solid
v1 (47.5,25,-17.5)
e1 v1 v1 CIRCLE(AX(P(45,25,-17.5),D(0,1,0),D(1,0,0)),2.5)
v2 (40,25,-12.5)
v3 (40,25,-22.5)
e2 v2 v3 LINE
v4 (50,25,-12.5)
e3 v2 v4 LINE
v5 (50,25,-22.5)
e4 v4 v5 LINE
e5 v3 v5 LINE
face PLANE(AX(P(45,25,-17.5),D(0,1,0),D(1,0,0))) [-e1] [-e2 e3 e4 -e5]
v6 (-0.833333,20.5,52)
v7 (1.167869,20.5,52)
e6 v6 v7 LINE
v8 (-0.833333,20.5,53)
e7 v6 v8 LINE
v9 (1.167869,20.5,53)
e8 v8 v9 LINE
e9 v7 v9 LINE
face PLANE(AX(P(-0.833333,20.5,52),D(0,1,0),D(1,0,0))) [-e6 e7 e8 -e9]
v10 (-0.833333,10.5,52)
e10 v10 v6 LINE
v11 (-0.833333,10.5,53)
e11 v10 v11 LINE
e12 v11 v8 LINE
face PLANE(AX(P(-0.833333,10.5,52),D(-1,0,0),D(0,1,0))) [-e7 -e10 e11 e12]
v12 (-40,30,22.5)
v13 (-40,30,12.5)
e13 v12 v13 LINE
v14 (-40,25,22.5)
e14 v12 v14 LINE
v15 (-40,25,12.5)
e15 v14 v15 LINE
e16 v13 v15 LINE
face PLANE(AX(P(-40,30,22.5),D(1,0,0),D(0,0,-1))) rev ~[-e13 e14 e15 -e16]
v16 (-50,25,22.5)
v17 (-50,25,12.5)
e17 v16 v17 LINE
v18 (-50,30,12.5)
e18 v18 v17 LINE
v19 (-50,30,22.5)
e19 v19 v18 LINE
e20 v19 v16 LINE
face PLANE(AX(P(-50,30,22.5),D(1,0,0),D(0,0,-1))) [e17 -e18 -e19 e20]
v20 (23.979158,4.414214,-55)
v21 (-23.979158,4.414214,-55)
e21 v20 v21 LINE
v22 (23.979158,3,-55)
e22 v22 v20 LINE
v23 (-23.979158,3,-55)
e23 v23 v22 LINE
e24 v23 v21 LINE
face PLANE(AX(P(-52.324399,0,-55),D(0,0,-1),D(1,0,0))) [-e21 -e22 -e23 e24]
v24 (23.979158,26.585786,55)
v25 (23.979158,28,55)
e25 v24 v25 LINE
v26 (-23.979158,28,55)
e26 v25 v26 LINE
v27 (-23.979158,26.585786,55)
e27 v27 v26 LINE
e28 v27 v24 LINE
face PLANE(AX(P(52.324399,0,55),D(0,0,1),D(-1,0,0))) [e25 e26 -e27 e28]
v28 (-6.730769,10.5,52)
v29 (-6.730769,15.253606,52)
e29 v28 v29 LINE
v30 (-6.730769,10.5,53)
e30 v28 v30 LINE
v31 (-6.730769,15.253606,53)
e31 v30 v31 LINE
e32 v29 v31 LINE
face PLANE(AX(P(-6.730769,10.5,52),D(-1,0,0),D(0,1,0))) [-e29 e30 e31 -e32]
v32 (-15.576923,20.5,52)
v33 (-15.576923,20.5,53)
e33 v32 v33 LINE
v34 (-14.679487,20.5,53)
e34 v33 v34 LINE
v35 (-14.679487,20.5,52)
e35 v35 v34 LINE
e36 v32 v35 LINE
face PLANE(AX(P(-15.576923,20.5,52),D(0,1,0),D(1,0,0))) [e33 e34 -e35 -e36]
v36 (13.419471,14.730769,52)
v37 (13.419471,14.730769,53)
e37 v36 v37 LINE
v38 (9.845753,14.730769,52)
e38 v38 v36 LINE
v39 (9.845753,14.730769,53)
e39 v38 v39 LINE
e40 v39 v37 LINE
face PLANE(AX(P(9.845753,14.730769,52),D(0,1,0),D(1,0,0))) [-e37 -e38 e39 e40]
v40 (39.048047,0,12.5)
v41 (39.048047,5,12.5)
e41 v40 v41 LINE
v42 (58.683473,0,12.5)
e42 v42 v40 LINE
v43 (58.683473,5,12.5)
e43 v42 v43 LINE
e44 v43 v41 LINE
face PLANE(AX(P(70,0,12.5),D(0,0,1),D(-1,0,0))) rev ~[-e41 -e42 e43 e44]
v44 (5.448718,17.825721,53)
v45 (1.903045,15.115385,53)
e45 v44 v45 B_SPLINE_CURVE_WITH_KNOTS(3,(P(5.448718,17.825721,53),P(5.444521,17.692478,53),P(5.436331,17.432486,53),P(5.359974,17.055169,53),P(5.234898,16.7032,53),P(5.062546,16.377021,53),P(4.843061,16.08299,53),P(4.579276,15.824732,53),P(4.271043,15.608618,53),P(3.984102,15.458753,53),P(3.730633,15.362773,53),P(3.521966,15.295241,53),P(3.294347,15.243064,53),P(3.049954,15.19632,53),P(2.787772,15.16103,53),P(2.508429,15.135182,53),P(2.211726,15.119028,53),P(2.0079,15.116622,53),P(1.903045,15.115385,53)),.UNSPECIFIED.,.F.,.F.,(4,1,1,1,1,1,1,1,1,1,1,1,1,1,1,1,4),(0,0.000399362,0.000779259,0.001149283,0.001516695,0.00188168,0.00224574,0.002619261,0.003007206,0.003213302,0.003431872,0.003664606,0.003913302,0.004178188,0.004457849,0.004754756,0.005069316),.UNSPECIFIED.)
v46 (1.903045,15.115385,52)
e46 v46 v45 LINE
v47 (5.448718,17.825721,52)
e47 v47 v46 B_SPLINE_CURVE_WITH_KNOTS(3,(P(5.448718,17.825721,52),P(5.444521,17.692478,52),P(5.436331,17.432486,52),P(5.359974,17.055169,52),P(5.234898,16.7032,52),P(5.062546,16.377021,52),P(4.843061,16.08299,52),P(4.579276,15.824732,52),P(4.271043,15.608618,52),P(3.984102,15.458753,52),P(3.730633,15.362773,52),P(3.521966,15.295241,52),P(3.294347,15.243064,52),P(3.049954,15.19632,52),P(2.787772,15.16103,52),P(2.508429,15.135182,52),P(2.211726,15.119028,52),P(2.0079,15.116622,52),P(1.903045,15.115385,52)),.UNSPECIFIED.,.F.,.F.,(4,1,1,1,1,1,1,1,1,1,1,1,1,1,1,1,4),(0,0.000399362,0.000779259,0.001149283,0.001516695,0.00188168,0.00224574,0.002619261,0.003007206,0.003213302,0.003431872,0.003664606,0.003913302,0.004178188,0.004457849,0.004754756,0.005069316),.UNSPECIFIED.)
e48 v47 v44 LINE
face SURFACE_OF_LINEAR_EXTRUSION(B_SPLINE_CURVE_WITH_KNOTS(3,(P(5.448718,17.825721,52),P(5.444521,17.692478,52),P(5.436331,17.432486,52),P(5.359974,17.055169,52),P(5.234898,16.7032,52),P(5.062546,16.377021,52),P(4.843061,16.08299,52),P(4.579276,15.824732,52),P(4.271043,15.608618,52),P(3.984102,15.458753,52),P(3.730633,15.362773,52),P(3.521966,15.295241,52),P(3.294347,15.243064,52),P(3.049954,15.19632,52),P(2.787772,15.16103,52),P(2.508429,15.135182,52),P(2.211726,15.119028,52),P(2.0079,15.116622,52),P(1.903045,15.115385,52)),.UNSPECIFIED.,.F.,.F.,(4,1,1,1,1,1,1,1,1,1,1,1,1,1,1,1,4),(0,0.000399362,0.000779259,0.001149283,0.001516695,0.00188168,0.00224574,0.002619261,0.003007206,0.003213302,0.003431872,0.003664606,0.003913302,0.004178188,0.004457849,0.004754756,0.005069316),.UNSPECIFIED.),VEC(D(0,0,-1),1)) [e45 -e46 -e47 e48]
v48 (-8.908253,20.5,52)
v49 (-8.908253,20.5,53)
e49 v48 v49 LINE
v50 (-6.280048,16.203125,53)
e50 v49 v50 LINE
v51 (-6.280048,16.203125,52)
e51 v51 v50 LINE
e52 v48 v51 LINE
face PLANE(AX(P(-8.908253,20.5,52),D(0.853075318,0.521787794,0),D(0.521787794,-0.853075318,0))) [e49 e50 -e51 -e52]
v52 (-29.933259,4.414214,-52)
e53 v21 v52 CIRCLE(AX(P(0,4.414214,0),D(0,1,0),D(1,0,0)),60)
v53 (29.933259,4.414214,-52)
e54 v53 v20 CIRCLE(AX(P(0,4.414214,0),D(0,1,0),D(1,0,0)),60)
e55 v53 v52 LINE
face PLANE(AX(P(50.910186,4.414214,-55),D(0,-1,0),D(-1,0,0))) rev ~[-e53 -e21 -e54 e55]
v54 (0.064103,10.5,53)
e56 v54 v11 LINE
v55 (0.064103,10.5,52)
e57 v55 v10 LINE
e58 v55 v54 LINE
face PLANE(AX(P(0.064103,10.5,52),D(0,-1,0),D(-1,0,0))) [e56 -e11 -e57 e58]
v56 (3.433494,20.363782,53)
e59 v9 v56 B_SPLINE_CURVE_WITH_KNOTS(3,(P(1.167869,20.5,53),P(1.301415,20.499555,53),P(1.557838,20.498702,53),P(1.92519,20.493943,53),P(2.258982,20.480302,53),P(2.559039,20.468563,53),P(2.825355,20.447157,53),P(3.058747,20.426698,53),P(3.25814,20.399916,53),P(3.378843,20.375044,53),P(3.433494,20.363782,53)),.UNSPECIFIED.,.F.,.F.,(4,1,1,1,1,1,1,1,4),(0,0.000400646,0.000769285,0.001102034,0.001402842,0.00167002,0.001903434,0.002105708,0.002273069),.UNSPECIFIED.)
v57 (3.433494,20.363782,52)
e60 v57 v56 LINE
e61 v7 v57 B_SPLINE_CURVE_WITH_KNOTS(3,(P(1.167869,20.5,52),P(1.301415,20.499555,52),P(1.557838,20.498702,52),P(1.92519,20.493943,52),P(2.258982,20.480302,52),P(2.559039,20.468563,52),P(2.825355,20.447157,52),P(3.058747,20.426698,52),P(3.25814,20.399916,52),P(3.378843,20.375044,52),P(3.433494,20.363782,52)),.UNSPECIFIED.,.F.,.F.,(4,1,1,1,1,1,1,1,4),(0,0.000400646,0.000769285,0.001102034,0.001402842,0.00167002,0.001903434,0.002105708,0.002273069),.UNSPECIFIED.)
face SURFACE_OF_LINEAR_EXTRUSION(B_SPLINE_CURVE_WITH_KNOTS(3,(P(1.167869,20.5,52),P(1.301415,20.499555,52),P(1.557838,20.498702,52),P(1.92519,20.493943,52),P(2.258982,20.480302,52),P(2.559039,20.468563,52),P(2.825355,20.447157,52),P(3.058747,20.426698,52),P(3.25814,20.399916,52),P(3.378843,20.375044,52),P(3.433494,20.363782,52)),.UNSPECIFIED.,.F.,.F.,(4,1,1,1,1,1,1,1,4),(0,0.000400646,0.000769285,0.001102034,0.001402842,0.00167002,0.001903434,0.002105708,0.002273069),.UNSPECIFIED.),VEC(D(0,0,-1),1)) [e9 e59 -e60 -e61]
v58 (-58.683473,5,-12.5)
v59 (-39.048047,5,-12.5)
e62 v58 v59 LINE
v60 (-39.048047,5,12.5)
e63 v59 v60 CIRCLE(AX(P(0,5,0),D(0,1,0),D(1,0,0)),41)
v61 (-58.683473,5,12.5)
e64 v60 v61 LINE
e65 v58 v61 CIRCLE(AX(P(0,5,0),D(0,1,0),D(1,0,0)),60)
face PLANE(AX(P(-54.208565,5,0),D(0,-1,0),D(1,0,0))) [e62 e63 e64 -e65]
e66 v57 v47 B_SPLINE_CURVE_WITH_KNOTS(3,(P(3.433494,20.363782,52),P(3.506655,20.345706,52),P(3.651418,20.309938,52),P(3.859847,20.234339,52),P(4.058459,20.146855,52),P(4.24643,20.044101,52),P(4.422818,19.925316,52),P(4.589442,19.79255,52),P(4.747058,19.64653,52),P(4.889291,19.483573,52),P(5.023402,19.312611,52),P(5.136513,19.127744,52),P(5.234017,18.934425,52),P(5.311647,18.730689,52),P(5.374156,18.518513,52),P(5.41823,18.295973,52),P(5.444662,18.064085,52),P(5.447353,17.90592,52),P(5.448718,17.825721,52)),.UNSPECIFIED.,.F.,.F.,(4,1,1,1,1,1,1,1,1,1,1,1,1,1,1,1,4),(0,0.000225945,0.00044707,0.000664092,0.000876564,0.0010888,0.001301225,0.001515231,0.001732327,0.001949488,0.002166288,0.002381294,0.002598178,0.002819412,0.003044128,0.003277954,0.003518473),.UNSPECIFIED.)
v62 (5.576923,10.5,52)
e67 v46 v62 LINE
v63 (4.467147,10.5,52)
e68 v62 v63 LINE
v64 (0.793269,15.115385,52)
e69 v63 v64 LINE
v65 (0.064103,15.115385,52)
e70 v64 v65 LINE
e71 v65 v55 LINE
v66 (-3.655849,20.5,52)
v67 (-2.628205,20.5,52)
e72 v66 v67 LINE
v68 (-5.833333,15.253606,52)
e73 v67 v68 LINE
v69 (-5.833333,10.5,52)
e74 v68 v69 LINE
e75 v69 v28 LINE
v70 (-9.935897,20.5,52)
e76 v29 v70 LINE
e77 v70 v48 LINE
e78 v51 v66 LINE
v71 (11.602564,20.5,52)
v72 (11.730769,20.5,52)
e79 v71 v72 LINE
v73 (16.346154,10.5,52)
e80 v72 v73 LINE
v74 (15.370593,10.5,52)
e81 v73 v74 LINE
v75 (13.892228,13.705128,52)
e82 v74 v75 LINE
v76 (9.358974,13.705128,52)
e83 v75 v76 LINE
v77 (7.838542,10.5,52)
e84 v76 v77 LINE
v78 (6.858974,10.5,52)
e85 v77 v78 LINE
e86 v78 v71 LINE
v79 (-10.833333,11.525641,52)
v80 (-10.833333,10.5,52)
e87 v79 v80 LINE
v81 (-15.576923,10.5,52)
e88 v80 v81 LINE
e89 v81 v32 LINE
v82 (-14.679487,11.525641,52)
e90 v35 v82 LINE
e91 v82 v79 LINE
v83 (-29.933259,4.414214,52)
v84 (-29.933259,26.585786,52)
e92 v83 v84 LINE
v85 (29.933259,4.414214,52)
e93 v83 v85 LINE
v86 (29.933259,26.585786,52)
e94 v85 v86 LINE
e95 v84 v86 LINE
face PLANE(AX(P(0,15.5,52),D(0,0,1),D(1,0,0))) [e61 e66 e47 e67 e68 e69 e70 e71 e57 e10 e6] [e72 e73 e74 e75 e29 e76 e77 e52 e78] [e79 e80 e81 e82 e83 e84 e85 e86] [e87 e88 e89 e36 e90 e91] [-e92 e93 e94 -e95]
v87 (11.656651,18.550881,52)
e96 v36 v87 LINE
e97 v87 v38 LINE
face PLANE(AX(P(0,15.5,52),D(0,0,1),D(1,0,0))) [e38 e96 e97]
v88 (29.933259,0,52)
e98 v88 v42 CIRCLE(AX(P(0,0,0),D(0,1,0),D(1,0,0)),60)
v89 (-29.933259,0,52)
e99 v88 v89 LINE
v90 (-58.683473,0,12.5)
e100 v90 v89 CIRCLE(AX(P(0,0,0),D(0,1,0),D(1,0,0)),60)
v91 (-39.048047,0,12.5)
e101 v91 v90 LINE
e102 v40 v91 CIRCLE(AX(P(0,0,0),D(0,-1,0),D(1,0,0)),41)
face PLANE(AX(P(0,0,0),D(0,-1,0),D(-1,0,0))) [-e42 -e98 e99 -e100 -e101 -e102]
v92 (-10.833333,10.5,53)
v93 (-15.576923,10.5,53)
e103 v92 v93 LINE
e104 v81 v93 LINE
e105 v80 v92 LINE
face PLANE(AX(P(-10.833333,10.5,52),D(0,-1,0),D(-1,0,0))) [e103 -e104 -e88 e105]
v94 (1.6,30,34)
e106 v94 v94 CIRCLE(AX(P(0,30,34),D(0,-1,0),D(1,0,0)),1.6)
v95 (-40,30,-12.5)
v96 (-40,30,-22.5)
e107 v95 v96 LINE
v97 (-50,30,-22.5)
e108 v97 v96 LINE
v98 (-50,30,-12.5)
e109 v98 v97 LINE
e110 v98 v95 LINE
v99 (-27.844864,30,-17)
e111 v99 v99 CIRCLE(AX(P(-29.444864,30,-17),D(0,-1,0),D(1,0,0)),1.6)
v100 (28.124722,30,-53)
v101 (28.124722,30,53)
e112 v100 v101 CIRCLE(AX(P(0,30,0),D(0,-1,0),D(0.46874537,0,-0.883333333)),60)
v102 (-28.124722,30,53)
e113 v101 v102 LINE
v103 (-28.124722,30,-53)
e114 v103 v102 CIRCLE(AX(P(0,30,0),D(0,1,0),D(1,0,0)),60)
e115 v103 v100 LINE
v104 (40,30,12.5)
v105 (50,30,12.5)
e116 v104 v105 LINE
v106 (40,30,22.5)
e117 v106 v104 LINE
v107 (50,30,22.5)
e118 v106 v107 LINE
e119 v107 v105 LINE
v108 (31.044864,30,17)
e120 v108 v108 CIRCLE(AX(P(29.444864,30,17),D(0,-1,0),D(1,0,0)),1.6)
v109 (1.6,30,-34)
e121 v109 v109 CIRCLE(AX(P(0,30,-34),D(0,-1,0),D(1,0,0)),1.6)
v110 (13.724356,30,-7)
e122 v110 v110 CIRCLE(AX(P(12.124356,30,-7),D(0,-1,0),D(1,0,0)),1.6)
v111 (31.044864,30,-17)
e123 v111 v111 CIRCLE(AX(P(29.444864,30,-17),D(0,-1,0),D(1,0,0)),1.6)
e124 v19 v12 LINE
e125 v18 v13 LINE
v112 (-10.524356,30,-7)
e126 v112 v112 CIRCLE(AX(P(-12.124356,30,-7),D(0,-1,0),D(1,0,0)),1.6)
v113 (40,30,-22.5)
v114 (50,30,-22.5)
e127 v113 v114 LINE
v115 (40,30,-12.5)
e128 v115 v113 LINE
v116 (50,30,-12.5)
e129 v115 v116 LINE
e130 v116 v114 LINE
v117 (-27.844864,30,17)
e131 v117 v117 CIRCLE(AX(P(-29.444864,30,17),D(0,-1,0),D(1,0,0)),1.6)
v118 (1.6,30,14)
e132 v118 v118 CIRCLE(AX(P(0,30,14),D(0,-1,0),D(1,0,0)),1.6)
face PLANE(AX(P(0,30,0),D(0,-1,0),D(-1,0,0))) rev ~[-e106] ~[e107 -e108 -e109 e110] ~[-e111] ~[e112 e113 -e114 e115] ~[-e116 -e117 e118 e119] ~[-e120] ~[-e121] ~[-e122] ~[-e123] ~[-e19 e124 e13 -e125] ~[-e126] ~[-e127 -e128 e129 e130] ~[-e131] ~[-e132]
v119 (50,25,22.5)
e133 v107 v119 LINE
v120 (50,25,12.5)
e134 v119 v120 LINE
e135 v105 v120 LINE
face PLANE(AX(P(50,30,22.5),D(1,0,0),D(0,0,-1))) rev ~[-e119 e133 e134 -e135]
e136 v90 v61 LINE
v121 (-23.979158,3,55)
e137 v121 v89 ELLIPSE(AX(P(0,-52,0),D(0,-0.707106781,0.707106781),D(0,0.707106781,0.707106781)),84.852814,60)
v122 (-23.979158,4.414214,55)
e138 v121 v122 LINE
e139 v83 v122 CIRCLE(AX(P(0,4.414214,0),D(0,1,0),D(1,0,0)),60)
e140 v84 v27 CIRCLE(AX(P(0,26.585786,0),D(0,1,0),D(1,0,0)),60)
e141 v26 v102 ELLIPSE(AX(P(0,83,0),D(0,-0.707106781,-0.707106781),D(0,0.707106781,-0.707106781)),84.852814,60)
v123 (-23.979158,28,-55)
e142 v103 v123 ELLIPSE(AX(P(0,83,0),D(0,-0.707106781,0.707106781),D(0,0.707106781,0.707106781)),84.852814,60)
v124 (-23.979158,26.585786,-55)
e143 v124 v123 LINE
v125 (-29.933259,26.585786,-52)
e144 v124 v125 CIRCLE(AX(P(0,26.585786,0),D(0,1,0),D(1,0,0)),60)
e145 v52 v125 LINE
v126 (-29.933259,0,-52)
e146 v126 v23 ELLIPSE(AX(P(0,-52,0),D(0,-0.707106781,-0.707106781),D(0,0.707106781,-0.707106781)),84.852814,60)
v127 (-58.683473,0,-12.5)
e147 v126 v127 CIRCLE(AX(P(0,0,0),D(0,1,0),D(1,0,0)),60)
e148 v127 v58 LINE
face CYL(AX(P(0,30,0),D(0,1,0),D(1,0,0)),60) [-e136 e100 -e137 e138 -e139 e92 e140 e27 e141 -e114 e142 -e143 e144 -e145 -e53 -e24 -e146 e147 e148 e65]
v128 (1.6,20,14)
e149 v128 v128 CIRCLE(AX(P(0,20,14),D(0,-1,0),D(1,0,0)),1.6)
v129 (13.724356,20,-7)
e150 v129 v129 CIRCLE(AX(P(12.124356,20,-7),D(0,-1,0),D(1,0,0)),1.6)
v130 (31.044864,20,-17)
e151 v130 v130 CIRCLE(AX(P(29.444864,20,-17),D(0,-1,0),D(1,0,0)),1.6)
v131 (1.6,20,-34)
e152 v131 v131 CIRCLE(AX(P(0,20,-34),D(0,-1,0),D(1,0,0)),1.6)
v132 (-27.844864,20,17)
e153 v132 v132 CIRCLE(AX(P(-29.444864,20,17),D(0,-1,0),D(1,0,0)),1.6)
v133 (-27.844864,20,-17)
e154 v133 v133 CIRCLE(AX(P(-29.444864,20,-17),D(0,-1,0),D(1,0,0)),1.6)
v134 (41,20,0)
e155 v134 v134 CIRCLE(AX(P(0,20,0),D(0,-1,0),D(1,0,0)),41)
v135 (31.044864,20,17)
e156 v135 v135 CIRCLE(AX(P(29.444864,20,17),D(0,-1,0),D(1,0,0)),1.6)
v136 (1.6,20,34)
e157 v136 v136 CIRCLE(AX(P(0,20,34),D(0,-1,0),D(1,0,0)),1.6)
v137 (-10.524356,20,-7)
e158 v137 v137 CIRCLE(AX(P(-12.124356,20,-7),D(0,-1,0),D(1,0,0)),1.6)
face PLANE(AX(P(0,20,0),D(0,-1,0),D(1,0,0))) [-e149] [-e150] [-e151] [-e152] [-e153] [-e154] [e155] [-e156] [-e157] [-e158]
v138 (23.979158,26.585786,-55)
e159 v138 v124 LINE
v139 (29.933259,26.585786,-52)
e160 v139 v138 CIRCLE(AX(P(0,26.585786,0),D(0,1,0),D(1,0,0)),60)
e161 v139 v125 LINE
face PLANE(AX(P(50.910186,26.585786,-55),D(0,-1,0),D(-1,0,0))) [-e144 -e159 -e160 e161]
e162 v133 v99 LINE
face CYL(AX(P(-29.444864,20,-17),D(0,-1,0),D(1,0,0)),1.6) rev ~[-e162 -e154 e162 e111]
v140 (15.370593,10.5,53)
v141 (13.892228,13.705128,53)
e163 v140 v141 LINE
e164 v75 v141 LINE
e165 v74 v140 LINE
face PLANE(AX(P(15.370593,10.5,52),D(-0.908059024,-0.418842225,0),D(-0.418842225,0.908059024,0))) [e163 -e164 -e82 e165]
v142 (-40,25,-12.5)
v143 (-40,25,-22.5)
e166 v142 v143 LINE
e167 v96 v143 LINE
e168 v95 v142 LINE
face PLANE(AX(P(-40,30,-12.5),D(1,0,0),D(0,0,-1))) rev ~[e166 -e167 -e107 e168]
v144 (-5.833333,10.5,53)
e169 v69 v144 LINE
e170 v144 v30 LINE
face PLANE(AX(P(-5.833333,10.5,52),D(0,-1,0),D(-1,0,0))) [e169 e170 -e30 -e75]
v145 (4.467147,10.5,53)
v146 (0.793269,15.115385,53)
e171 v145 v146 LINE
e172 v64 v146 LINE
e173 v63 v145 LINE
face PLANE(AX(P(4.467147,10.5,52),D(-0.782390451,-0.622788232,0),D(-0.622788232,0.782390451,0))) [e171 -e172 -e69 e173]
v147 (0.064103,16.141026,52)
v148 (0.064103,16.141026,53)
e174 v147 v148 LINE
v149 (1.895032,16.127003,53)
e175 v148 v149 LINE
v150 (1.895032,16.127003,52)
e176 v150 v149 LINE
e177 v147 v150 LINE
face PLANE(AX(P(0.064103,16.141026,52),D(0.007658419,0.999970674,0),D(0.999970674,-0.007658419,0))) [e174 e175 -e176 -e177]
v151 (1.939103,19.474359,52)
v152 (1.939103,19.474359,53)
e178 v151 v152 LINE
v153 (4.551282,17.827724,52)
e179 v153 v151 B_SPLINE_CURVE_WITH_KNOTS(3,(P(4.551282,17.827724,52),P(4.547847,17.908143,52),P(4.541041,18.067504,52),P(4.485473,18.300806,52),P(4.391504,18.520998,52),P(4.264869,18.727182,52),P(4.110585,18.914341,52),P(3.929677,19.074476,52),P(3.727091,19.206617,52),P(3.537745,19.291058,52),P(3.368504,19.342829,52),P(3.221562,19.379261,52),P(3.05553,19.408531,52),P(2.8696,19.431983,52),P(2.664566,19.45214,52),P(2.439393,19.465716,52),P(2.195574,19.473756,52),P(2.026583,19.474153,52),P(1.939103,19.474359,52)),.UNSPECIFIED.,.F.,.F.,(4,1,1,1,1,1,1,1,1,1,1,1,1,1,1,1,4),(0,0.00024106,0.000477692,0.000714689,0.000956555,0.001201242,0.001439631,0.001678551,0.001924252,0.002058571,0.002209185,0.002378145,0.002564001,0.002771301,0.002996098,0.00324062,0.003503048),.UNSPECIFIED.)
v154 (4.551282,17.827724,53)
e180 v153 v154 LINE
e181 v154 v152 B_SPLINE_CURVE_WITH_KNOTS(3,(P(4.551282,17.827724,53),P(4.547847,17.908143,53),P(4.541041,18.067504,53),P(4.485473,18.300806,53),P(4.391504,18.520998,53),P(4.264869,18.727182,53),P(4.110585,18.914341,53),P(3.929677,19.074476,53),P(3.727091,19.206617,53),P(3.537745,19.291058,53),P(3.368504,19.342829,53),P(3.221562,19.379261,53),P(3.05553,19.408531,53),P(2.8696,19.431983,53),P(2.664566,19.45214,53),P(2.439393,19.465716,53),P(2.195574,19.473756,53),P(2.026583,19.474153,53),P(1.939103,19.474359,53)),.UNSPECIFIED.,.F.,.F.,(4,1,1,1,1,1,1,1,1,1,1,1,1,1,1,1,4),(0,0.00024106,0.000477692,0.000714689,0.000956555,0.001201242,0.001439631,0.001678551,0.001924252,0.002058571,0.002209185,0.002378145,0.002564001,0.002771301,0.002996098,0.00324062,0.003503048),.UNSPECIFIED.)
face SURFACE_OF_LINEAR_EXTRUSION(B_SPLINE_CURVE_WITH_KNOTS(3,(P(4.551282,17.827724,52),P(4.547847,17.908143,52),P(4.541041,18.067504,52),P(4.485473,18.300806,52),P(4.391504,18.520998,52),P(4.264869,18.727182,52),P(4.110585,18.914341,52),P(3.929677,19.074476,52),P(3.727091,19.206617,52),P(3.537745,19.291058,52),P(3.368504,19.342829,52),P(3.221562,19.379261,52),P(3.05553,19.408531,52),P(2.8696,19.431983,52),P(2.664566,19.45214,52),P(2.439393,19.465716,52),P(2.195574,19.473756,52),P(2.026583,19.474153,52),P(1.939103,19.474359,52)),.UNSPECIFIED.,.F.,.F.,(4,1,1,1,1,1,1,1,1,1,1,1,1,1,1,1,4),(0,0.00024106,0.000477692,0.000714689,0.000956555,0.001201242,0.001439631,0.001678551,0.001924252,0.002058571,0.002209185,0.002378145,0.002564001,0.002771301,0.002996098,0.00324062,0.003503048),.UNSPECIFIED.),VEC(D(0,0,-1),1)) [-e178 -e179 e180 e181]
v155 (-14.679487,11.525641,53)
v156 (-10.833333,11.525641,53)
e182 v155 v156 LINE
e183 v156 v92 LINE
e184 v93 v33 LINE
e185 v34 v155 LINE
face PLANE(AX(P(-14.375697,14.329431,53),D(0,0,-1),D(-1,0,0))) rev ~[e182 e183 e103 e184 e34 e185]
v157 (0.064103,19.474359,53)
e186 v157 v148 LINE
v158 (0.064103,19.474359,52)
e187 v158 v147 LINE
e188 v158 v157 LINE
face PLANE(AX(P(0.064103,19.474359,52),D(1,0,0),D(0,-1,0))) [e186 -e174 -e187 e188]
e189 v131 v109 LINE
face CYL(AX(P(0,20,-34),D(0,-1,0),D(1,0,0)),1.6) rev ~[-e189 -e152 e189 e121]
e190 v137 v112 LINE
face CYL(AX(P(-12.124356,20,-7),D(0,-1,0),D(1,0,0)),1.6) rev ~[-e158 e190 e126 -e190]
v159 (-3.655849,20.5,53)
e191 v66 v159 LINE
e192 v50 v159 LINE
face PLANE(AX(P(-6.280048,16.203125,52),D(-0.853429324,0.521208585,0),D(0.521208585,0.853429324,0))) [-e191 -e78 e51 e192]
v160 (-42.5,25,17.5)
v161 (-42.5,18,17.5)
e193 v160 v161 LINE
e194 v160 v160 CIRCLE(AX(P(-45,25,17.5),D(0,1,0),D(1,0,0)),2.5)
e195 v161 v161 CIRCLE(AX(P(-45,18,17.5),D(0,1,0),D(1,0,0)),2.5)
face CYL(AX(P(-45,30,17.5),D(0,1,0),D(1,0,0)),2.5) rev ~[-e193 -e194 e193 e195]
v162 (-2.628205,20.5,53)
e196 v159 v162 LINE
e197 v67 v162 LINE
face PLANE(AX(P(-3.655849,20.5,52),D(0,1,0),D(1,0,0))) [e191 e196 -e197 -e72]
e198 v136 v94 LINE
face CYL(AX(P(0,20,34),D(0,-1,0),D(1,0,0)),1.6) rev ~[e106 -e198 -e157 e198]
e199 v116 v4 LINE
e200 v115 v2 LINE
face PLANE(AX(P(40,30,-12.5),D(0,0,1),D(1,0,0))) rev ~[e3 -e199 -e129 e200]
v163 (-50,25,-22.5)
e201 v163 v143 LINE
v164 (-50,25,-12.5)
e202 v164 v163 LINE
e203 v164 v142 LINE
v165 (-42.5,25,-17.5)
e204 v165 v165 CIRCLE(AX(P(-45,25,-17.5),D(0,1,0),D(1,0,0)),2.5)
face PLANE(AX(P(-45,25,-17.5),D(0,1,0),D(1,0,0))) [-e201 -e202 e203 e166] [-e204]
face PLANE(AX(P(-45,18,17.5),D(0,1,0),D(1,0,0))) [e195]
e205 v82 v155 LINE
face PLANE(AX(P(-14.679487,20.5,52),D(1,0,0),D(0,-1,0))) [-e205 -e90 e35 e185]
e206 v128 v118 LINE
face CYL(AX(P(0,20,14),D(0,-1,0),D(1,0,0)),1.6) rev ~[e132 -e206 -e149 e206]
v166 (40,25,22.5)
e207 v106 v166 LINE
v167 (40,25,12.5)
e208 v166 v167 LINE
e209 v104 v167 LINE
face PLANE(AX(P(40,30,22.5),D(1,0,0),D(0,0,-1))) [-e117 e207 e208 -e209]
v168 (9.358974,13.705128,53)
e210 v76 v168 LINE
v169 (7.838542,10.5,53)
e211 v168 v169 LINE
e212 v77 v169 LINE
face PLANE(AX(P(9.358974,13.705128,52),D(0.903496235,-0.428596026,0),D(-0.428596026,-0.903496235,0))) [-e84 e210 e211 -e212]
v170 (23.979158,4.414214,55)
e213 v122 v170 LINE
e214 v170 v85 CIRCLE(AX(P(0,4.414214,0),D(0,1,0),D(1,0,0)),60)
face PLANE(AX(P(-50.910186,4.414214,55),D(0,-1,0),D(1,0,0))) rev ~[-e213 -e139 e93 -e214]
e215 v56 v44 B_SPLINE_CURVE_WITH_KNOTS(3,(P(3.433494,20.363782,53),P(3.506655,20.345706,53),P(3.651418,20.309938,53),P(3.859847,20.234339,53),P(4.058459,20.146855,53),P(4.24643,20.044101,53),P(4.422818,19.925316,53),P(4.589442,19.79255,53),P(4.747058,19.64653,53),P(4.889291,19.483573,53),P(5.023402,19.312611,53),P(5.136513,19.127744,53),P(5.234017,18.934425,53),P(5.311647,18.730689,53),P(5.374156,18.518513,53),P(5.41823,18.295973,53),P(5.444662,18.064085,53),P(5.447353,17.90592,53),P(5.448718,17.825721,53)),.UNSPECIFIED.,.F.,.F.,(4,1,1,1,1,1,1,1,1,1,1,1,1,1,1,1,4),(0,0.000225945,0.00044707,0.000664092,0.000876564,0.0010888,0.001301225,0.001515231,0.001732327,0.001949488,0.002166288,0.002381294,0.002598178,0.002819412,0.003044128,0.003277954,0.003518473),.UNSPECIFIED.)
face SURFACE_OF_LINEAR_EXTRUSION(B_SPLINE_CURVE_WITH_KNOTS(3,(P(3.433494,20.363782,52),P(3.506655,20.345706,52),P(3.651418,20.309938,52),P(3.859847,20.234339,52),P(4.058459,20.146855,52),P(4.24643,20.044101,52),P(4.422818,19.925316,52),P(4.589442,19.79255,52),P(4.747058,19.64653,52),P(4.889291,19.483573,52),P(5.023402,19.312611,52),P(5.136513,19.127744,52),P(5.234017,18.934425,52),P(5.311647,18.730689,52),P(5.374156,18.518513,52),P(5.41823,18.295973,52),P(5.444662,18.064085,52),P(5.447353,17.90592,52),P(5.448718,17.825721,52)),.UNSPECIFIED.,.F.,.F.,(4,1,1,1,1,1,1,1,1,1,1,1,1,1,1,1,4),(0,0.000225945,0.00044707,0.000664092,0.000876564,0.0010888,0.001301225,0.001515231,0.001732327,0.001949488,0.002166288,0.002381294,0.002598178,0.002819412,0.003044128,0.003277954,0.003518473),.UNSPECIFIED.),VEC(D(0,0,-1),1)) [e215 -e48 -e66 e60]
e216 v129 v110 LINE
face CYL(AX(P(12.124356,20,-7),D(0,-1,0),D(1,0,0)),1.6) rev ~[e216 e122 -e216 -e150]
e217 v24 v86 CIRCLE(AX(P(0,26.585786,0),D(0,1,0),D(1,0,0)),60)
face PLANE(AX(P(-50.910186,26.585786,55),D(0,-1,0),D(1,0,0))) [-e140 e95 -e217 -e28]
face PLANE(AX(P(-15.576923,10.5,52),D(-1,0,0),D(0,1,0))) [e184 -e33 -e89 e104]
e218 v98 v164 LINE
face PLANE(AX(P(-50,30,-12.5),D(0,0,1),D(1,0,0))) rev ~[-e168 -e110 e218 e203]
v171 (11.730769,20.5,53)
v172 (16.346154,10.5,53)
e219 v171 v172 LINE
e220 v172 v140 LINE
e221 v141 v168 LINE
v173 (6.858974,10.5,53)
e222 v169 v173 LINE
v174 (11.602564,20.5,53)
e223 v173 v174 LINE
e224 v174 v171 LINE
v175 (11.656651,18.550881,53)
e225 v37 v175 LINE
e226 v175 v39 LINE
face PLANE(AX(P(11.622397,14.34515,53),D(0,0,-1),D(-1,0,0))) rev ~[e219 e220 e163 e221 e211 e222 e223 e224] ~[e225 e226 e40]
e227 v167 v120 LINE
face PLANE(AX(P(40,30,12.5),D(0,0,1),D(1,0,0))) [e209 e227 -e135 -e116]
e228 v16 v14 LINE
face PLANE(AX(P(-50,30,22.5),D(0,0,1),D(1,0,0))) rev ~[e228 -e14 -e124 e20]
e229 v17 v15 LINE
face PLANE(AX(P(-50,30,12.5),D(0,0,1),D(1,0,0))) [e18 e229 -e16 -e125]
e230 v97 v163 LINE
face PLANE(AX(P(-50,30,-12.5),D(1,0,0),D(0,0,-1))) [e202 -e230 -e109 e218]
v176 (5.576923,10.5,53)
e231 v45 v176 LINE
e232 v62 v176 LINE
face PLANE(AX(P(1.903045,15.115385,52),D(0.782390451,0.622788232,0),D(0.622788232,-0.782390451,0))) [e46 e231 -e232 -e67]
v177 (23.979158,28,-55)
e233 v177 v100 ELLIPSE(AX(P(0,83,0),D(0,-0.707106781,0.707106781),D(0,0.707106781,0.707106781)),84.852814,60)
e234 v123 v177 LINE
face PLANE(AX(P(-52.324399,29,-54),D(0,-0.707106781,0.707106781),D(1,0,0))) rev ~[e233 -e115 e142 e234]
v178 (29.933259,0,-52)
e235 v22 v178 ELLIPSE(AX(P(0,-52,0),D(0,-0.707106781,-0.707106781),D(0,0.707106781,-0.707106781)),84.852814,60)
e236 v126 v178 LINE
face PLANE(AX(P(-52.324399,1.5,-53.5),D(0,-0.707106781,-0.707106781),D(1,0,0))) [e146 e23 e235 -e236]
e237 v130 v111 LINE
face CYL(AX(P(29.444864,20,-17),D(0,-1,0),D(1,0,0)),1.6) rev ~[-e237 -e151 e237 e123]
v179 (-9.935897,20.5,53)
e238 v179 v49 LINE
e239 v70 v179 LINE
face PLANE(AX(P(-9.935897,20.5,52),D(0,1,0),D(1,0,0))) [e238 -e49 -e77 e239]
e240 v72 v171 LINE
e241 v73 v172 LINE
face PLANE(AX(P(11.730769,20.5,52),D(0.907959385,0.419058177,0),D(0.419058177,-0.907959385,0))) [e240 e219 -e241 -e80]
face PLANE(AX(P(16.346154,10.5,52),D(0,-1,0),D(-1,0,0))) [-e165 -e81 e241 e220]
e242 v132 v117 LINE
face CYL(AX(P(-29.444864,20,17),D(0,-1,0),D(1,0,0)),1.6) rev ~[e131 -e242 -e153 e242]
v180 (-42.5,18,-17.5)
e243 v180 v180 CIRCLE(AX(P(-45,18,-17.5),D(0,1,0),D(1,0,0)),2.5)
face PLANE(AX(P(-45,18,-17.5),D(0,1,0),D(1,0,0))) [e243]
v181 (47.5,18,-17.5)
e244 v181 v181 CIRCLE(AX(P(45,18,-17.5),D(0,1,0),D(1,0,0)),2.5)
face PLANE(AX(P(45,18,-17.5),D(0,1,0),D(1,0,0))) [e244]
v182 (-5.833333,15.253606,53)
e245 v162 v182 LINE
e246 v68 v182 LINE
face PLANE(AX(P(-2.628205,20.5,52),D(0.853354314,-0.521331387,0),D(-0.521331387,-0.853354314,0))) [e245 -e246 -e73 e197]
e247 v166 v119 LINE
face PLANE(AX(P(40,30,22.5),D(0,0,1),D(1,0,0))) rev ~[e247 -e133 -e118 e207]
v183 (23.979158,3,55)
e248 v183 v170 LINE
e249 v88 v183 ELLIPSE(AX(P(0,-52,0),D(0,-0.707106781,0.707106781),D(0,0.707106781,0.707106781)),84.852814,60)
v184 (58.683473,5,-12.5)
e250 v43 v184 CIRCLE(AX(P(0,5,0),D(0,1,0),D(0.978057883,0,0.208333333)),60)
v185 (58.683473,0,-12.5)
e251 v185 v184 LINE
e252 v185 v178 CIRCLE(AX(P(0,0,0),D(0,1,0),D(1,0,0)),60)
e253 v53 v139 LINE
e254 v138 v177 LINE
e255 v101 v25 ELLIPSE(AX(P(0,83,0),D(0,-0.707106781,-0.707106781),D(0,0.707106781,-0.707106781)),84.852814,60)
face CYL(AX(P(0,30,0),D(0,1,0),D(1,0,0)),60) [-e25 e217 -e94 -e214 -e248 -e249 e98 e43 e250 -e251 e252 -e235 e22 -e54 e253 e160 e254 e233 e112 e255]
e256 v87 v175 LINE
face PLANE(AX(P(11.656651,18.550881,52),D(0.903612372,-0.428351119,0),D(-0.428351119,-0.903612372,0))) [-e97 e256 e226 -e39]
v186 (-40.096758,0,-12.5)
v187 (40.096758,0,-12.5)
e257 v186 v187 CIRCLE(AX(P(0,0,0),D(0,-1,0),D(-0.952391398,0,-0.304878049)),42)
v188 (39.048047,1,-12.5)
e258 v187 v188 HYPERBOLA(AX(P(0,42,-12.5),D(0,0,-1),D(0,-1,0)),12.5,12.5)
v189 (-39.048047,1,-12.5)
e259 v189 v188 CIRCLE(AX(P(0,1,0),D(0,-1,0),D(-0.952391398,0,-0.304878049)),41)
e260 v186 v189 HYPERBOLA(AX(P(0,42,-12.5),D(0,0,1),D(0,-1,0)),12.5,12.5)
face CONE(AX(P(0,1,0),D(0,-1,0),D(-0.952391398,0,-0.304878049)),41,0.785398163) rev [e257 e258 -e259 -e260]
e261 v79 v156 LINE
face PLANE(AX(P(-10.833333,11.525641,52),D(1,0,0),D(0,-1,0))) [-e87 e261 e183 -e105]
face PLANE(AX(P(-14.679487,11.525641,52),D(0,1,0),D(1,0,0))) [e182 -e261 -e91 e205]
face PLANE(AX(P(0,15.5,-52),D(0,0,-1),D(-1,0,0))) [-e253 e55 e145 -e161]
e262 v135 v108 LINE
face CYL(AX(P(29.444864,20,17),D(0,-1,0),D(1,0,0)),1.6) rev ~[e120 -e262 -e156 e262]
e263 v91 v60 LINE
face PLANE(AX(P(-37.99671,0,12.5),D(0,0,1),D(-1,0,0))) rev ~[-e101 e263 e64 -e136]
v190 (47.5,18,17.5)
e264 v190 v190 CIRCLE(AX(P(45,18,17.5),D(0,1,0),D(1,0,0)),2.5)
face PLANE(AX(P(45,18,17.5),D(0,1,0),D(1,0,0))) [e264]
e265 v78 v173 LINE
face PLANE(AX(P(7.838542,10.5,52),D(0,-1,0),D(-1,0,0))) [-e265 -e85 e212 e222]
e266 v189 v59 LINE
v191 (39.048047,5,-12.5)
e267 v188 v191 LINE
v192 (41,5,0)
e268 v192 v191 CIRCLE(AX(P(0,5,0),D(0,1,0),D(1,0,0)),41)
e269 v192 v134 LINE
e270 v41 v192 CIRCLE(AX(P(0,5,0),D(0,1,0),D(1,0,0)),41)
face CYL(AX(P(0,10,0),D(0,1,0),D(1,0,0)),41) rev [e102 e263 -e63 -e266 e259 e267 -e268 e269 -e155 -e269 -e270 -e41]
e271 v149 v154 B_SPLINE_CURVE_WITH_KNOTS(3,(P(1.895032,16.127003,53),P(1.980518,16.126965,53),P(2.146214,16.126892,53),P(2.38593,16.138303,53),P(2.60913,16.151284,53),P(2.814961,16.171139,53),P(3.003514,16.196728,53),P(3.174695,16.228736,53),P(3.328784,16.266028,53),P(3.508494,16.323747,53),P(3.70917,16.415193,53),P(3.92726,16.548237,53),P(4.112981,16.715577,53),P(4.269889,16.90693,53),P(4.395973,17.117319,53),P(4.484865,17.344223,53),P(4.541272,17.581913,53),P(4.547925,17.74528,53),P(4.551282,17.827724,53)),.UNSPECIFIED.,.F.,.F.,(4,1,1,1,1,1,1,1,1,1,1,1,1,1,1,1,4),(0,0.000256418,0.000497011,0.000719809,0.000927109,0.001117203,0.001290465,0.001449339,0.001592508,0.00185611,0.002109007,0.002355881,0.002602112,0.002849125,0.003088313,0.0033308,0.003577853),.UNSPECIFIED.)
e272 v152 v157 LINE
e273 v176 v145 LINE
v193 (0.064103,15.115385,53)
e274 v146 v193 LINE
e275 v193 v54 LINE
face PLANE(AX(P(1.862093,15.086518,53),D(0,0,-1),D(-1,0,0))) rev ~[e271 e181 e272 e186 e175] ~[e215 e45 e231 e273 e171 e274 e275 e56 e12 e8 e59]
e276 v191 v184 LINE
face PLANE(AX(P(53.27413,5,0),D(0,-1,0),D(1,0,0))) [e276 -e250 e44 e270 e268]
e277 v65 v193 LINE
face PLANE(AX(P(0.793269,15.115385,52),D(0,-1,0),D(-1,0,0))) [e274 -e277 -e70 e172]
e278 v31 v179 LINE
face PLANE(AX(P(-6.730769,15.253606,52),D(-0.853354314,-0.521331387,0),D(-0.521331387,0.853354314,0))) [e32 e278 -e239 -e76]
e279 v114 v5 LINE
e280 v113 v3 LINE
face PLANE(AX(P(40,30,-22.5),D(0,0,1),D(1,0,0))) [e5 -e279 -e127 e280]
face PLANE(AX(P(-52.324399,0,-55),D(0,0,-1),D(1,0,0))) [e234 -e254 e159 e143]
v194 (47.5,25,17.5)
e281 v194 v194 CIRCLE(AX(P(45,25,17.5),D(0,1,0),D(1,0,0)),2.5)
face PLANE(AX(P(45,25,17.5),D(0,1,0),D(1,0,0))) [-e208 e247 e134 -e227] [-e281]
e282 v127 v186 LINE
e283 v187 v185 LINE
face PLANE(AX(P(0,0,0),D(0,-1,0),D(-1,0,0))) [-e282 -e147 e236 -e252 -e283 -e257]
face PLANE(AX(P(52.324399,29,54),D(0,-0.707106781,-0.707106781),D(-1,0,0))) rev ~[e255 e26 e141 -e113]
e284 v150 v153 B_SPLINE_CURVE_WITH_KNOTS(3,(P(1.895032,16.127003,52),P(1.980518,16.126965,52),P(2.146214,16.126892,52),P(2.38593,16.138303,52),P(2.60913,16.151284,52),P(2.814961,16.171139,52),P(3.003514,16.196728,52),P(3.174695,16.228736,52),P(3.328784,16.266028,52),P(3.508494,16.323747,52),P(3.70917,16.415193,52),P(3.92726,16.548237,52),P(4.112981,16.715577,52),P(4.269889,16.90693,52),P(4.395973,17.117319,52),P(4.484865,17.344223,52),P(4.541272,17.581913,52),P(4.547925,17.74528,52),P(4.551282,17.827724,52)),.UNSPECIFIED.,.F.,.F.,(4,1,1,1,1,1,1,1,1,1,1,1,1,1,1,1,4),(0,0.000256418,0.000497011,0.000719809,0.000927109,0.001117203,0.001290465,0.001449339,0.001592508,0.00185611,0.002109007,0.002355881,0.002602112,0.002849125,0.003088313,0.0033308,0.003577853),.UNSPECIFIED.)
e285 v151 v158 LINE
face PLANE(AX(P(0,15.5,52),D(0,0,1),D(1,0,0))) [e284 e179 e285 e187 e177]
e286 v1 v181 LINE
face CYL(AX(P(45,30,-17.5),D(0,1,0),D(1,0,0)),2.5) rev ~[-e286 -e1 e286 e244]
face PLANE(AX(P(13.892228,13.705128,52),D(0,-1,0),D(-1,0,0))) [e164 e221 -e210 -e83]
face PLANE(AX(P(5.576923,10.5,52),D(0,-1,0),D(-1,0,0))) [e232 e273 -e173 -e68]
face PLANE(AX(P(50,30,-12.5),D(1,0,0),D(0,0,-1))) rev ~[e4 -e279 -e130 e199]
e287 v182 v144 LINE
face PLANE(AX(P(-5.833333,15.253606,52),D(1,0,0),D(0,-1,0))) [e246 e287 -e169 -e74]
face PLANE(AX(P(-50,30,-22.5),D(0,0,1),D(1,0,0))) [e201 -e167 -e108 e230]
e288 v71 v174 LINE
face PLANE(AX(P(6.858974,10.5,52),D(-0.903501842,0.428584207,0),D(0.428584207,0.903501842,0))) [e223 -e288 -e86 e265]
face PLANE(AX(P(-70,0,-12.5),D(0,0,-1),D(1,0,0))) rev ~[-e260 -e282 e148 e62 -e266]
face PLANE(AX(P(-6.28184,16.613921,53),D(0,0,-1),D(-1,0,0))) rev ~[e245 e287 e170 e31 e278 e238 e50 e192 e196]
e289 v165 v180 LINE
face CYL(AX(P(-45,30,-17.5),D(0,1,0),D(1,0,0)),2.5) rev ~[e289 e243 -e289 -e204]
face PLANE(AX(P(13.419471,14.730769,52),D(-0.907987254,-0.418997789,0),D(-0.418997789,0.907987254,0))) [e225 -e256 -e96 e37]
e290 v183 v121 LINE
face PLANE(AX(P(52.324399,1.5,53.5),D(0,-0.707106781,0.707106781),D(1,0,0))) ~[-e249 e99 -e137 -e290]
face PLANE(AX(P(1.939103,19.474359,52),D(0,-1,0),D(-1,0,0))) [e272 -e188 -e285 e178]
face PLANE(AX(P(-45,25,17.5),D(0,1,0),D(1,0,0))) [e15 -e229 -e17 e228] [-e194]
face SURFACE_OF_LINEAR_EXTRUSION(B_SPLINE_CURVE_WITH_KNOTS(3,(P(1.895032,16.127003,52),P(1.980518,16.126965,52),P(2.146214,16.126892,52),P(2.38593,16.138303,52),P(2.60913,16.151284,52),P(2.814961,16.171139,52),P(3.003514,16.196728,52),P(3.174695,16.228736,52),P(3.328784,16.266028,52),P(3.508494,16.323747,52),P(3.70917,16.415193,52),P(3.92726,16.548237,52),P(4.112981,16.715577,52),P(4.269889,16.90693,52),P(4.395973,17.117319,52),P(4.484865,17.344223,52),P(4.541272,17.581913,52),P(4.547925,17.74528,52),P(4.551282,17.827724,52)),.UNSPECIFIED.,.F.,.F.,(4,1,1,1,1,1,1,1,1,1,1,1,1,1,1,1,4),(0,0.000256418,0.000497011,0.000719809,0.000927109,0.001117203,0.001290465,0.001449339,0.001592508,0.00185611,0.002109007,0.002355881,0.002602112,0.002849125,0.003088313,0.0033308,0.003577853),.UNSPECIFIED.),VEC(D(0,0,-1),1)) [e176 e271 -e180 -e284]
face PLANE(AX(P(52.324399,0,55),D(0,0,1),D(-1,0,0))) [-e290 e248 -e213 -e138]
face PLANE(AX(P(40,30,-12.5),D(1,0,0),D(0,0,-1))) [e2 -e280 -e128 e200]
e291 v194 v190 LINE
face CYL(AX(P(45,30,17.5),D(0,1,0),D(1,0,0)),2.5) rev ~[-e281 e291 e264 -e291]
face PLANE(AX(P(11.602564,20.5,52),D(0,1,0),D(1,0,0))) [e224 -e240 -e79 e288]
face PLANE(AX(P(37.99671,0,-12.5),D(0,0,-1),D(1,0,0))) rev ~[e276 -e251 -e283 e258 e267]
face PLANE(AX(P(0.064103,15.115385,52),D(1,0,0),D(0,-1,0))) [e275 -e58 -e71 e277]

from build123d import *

# Parameters (mm, degrees)
BOSS_EXTRUDE3_DEPTH      = 30
CHAMFER3_SIZE            = 2
CHAMFER4_SIZE            = 3
SKETCH5_R                = 40
CUT_EXTRUDE1_DEPTH       = 10
CHAMFER5_SIZE            = 1
SKETCH8_W                = 101.820371212
SKETCH8_H                = 22.171572876
CUT_EXTRUDE5_DEPTH       = 3
SKETCH9_W                = 3
SKETCH9_H                = 25
CUT_EXTRUDE7_DEPTH       = 5
SKETCH11_W               = 101.820371212
SKETCH11_H               = 22.171572876
CUT_EXTRUDE9_DEPTH       = 3
SKETCH12_R               = 41
CUT_EXTRUDE13_DEPTH      = 10
CUT_EXTRUDE13_DEPTH_BACK = 10
CHAMFER7_SIZE            = 1
SKETCH13_R               = 1.6
CUT_EXTRUDE14_DEPTH      = 20
SKETCH14_R               = 1.6
CUT_EXTRUDE15_DEPTH      = 20
SKETCH18_OUTSIDE_W       = 178.11
SKETCH18_OUTSIDE_H       = 148.11
SKETCH18_OUTSIDE_R       = 60
CUT_EXTRUDE16_DEPTH      = 60
BOSS_EXTRUDE6_DEPTH      = 1
SKETCH21_W               = 10
SKETCH21_H               = 10
CUT_EXTRUDE20_DEPTH      = 5
SKETCH24_R               = 2.5
CUT_EXTRUDE22_DEPTH      = 12


with BuildPart() as part:
    # Sketch2 → Boss-Extrude3 (new body)
    with BuildSketch(Plane(origin=(0, 0, 0), x_dir=(1, 0, 0), z_dir=(0, 1, 0))):
        Polygon((52.324399168, 55), (70, 40.283576004), (70, -40.283576004), (52.324399168, -55), (-52.324399168, -55), (-70, -40.283576004), (-70, 40.283576004), (-52.324399168, 55), align=None)
    extrude(amount=BOSS_EXTRUDE3_DEPTH)

    # Chamfer3
    chamfer3_edges = [part.edges().sort_by_distance(p)[0] for p in [
        (0, 30, 55),
        (61.162199584, 30, 47.641788002),
        (70, 30, 0),
        (61.162199584, 30, -47.641788002),
        (0, 30, -55),
        (-61.162199584, 30, -47.641788002),
        (-70, 30, 0),
        (-61.162199584, 30, 47.641788002),
    ]]
    chamfer(chamfer3_edges, length=CHAMFER3_SIZE)

    # Chamfer4
    chamfer4_edges = [part.edges().sort_by_distance(p)[0] for p in [
        (61.162199584, 0, 47.641788002),
        (0, 0, 55),
        (-61.162199584, 0, 47.641788002),
        (-70, 0, 0),
        (-61.162199584, 0, -47.641788002),
        (0, 0, -55),
        (61.162199584, 0, -47.641788002),
        (70, 0, 0),
    ]]
    chamfer(chamfer4_edges, length=CHAMFER4_SIZE)

    # Sketch5 → Cut-Extrude1 (cut)
    with BuildSketch(Plane.XZ):
        Circle(SKETCH5_R)
    extrude(amount=-CUT_EXTRUDE1_DEPTH, mode=Mode.SUBTRACT)

    # Chamfer5
    chamfer5_edges = [part.edges().sort_by_distance(p)[0] for p in [
        (-40, 0, 0),
    ]]
    chamfer(chamfer5_edges, length=CHAMFER5_SIZE)

    # Sketch8 → Cut-Extrude5 (cut)
    with BuildSketch(Plane.XY.offset(55)):
        with Locations((0, 15.5)):
            Rectangle(SKETCH8_W, SKETCH8_H)
    extrude(amount=-CUT_EXTRUDE5_DEPTH, mode=Mode.SUBTRACT)

    # Sketch9 → Cut-Extrude7 (cut)
    with BuildSketch(Plane.XZ):
        with BuildLine():
            Line((67, 12.5), (39.048047326, 12.5))
            ThreePointArc((39.048047326, 12.5), (40.50907269, 6.32574342), (41, 0))
            ThreePointArc((41, 0), (40.50907269, -6.32574342), (39.048047326, -12.5))
            Line((39.048047326, -12.5), (67, -12.5))
            Line((67, -12.5), (67, 12.5))
        make_face()
        with Locations((68.5, 0)):
            Rectangle(SKETCH9_W, SKETCH9_H)
        with BuildLine():
            Line((39.048047326, 12.5), (37.996710384, 12.5))
            ThreePointArc((37.996710384, 12.5), (40, 0), (37.996710384, -12.5))
            Line((37.996710384, -12.5), (39.048047326, -12.5))
            ThreePointArc((39.048047326, -12.5), (40.50907269, -6.32574342), (41, 0))
            ThreePointArc((41, 0), (40.50907269, 6.32574342), (39.048047326, 12.5))
        make_face()
        with BuildLine():
            Line((-37.996710384, 12.5), (-70, 12.5))
            Line((-70, 12.5), (-70, -12.5))
            Line((-70, -12.5), (-37.996710384, -12.5))
            ThreePointArc((-37.996710384, -12.5), (-40, 0), (-37.996710384, 12.5))
        make_face()
    extrude(amount=-CUT_EXTRUDE7_DEPTH, mode=Mode.SUBTRACT)

    # Sketch11 → Cut-Extrude9 (cut)
    with BuildSketch(Plane(origin=(0, 0, -55), x_dir=(-1, 0, 0), z_dir=(0, 0, -1))):
        with Locations((0, 15.5)):
            Rectangle(SKETCH11_W, SKETCH11_H)
    extrude(amount=-CUT_EXTRUDE9_DEPTH, mode=Mode.SUBTRACT)

    # Sketch12 → Cut-Extrude13 (cut, two sides)
    with BuildSketch(Plane.XZ.offset(-10)) as cut_extrude13_sk:
        Circle(SKETCH12_R)
    extrude(amount=CUT_EXTRUDE13_DEPTH, mode=Mode.SUBTRACT)
    extrude(cut_extrude13_sk.sketch, amount=-CUT_EXTRUDE13_DEPTH_BACK, mode=Mode.SUBTRACT)

    # Chamfer7
    chamfer7_edges = [part.edges().sort_by_distance(p)[0] for p in [
        (0, 0, -41),
    ]]
    chamfer(chamfer7_edges, length=CHAMFER7_SIZE)

    # Sketch13 → Cut-Extrude14 (cut)
    with BuildSketch(Plane.XZ.offset(-20)):
        with Locations((0, 14)):
            Circle(SKETCH13_R)
        with Locations((12.124355653, -7)):
            Circle(SKETCH13_R)
        with Locations((-12.124355653, -7)):
            Circle(SKETCH13_R)
    extrude(amount=-CUT_EXTRUDE14_DEPTH, mode=Mode.SUBTRACT)

    # Sketch14 → Cut-Extrude15 (cut)
    with BuildSketch(Plane.XZ.offset(-20)):
        with Locations((0, 34)):
            Circle(SKETCH14_R)
        with Locations((29.444863729, 17)):
            Circle(SKETCH14_R)
        with Locations((29.444863729, -17)):
            Circle(SKETCH14_R)
        with Locations((0, -34)):
            Circle(SKETCH14_R)
        with Locations((-29.444863729, -17)):
            Circle(SKETCH14_R)
        with Locations((-29.444863729, 17)):
            Circle(SKETCH14_R)
    extrude(amount=-CUT_EXTRUDE15_DEPTH, mode=Mode.SUBTRACT)

    # Sketch18 outside → Cut-Extrude16 (cut)
    with BuildSketch(Plane(origin=(0, 30, 0), x_dir=(1, 0, 0), z_dir=(0, 1, 0))):
        Rectangle(SKETCH18_OUTSIDE_W, SKETCH18_OUTSIDE_H)
        Circle(SKETCH18_OUTSIDE_R, mode=Mode.SUBTRACT)
    extrude(amount=-CUT_EXTRUDE16_DEPTH, mode=Mode.SUBTRACT)

    # Sketch19 → Boss-Extrude6 (add)
    with BuildSketch(Plane.XY.offset(52)):
        Polygon((-15.576923077, 20.5), (-14.679487179, 20.5), (-14.679487179, 11.525641026), (-10.833333333, 11.525641026), (-10.833333333, 10.5), (-15.576923077, 10.5), align=None)
        Polygon((-9.935897436, 20.5), (-8.908253205, 20.5), (-6.280048077, 16.203125), (-3.655849359, 20.5), (-2.628205128, 20.5), (-5.833333333, 15.253605769), (-5.833333333, 10.5), (-6.730769231, 10.5), (-6.730769231, 15.253605769), align=None)
        with BuildLine():
            Line((-0.833333333, 20.5), (1.16786859, 20.5))
            add(Edge.make_bspline(
                [(1.16786859, 20.5), (1.301414671, 20.499555469), (1.557837941, 20.498701919), (1.925190142, 20.493942596), (2.258981848, 20.48030158), (2.559038531, 20.46856277), (2.825354689, 20.447157224), (3.058746948, 20.426698232), (3.258140369, 20.399916344), (3.378842802, 20.375043707), (3.43349359, 20.363782051)],
                knots=[0, 0, 0, 0, 0.000400646, 0.000769285, 0.001102034, 0.001402842, 0.00167002, 0.001903434, 0.002105708, 0.002273069, 0.002273069, 0.002273069, 0.002273069], degree=3))
            add(Edge.make_bspline(
                [(3.43349359, 20.363782051), (3.506655373, 20.345705579), (3.6514182, 20.309938254), (3.85984696, 20.234339395), (4.058459314, 20.146854753), (4.246430241, 20.044101266), (4.422818216, 19.925316181), (4.589441961, 19.792550117), (4.747057571, 19.646529529), (4.8892908, 19.483572839), (5.023402376, 19.312611383), (5.136512737, 19.127743506), (5.234016965, 18.934424856), (5.311647014, 18.730689377), (5.374155509, 18.518512886), (5.418230479, 18.295973467), (5.444662444, 18.064084967), (5.447353459, 17.905919513), (5.448717949, 17.825721154)],
                knots=[0, 0, 0, 0, 0.000225945, 0.00044707, 0.000664092, 0.000876564, 0.0010888, 0.001301225, 0.001515231, 0.001732327, 0.001949488, 0.002166288, 0.002381294, 0.002598178, 0.002819412, 0.003044128, 0.003277954, 0.003518473, 0.003518473, 0.003518473, 0.003518473], degree=3))
            add(Edge.make_bspline(
                [(5.448717949, 17.825721154), (5.444520811, 17.692477998), (5.436331109, 17.43248609), (5.35997367, 17.055169286), (5.234897899, 16.703199815), (5.062545645, 16.37702085), (4.843061429, 16.082990434), (4.579276311, 15.824731991), (4.271043136, 15.608617955), (3.984102233, 15.458752798), (3.730633091, 15.362773059), (3.521966483, 15.295240606), (3.294346547, 15.243063562), (3.049954163, 15.196320328), (2.78777229, 15.161029773), (2.50842932, 15.13518236), (2.21172603, 15.119027935), (2.007900117, 15.116622207), (1.903044872, 15.115384615)],
                knots=[0, 0, 0, 0, 0.000399362, 0.000779259, 0.001149283, 0.001516695, 0.00188168, 0.00224574, 0.002619261, 0.003007206, 0.003213302, 0.003431872, 0.003664606, 0.003913302, 0.004178188, 0.004457849, 0.004754756, 0.005069316, 0.005069316, 0.005069316, 0.005069316], degree=3))
            Line((1.903044872, 15.115384615), (5.576923077, 10.5))
            Line((5.576923077, 10.5), (4.467147436, 10.5))
            Line((4.467147436, 10.5), (0.793269231, 15.115384615))
            Line((0.793269231, 15.115384615), (0.064102564, 15.115384615))
            Line((0.064102564, 15.115384615), (0.064102564, 10.5))
            Line((0.064102564, 10.5), (-0.833333333, 10.5))
            Line((-0.833333333, 10.5), (-0.833333333, 20.5))
        make_face()
        with BuildLine():
            Line((0.064102564, 19.474358974), (0.064102564, 16.141025641))
            Line((0.064102564, 16.141025641), (1.895032051, 16.127003205))
            add(Edge.make_bspline(
                [(1.895032051, 16.127003205), (1.980517877, 16.126965386), (2.146213754, 16.126892082), (2.385929939, 16.138302871), (2.609130259, 16.151283781), (2.814960979, 16.171139054), (3.003514051, 16.19672783), (3.174695232, 16.228736356), (3.328783952, 16.266027964), (3.508494061, 16.323746895), (3.709169865, 16.415192661), (3.927259751, 16.548236943), (4.112980716, 16.715577284), (4.269888894, 16.906930015), (4.395972984, 17.117319298), (4.484864567, 17.34422321), (4.541271545, 17.58191349), (4.547924532, 17.745279512), (4.551282051, 17.827724359)],
                knots=[0, 0, 0, 0, 0.000256418, 0.000497011, 0.000719809, 0.000927109, 0.001117203, 0.001290465, 0.001449339, 0.001592508, 0.00185611, 0.002109007, 0.002355881, 0.002602112, 0.002849125, 0.003088313, 0.0033308, 0.003577853, 0.003577853, 0.003577853, 0.003577853], degree=3))
            add(Edge.make_bspline(
                [(4.551282051, 17.827724359), (4.54784742, 17.908143141), (4.541041233, 18.067503823), (4.485473323, 18.300806424), (4.391503662, 18.52099771), (4.264868696, 18.727181953), (4.110585396, 18.914341198), (3.92967736, 19.074475921), (3.727091088, 19.206617249), (3.537744807, 19.291058336), (3.3685042, 19.342829345), (3.221562314, 19.379261242), (3.055529521, 19.408531153), (2.869599639, 19.431982755), (2.664566408, 19.452139739), (2.439393119, 19.46571625), (2.195573747, 19.473755861), (2.026582515, 19.474153258), (1.939102564, 19.474358974)],
                knots=[0, 0, 0, 0, 0.00024106, 0.000477692, 0.000714689, 0.000956555, 0.001201242, 0.001439631, 0.001678551, 0.001924252, 0.002058571, 0.002209185, 0.002378145, 0.002564001, 0.002771301, 0.002996098, 0.00324062, 0.003503048, 0.003503048, 0.003503048, 0.003503048], degree=3))
            Line((1.939102564, 19.474358974), (0.064102564, 19.474358974))
        make_face(mode=Mode.SUBTRACT)
        Polygon((11.730769231, 20.5), (16.346153846, 10.5), (15.370592949, 10.5), (13.892227564, 13.705128205), (9.358974359, 13.705128205), (7.838541667, 10.5), (6.858974359, 10.5), (11.602564103, 20.5), align=None)
        Polygon((11.656650641, 18.55088141), (9.845753205, 14.730769231), (13.419471154, 14.730769231), align=None, mode=Mode.SUBTRACT)
    extrude(amount=BOSS_EXTRUDE6_DEPTH)

    # Sketch21 → Cut-Extrude20 (cut)
    with BuildSketch(Plane(origin=(0, 30, 0), x_dir=(1, 0, 0), z_dir=(0, 1, 0))):
        with Locations((45, 17.5)):
            Rectangle(SKETCH21_W, SKETCH21_H)
        with Locations((-45, -17.5)):
            Rectangle(SKETCH21_W, SKETCH21_H)
        with Locations((-45, 17.5)):
            Rectangle(SKETCH21_W, SKETCH21_H)
        with Locations((45, -17.5)):
            Rectangle(SKETCH21_W, SKETCH21_H)
    extrude(amount=-CUT_EXTRUDE20_DEPTH, mode=Mode.SUBTRACT)

    # Sketch24 → Cut-Extrude22 (cut)
    with BuildSketch(Plane(origin=(0, 30, 0), x_dir=(1, 0, 0), z_dir=(0, 1, 0))):
        with Locations((-45, 17.5)):
            Circle(SKETCH24_R)
        with Locations((45, 17.5)):
            Circle(SKETCH24_R)
        with Locations((45, -17.5)):
            Circle(SKETCH24_R)
        with Locations((-45, -17.5)):
            Circle(SKETCH24_R)
    extrude(amount=-CUT_EXTRUDE22_DEPTH, mode=Mode.SUBTRACT)


solid = part.part
